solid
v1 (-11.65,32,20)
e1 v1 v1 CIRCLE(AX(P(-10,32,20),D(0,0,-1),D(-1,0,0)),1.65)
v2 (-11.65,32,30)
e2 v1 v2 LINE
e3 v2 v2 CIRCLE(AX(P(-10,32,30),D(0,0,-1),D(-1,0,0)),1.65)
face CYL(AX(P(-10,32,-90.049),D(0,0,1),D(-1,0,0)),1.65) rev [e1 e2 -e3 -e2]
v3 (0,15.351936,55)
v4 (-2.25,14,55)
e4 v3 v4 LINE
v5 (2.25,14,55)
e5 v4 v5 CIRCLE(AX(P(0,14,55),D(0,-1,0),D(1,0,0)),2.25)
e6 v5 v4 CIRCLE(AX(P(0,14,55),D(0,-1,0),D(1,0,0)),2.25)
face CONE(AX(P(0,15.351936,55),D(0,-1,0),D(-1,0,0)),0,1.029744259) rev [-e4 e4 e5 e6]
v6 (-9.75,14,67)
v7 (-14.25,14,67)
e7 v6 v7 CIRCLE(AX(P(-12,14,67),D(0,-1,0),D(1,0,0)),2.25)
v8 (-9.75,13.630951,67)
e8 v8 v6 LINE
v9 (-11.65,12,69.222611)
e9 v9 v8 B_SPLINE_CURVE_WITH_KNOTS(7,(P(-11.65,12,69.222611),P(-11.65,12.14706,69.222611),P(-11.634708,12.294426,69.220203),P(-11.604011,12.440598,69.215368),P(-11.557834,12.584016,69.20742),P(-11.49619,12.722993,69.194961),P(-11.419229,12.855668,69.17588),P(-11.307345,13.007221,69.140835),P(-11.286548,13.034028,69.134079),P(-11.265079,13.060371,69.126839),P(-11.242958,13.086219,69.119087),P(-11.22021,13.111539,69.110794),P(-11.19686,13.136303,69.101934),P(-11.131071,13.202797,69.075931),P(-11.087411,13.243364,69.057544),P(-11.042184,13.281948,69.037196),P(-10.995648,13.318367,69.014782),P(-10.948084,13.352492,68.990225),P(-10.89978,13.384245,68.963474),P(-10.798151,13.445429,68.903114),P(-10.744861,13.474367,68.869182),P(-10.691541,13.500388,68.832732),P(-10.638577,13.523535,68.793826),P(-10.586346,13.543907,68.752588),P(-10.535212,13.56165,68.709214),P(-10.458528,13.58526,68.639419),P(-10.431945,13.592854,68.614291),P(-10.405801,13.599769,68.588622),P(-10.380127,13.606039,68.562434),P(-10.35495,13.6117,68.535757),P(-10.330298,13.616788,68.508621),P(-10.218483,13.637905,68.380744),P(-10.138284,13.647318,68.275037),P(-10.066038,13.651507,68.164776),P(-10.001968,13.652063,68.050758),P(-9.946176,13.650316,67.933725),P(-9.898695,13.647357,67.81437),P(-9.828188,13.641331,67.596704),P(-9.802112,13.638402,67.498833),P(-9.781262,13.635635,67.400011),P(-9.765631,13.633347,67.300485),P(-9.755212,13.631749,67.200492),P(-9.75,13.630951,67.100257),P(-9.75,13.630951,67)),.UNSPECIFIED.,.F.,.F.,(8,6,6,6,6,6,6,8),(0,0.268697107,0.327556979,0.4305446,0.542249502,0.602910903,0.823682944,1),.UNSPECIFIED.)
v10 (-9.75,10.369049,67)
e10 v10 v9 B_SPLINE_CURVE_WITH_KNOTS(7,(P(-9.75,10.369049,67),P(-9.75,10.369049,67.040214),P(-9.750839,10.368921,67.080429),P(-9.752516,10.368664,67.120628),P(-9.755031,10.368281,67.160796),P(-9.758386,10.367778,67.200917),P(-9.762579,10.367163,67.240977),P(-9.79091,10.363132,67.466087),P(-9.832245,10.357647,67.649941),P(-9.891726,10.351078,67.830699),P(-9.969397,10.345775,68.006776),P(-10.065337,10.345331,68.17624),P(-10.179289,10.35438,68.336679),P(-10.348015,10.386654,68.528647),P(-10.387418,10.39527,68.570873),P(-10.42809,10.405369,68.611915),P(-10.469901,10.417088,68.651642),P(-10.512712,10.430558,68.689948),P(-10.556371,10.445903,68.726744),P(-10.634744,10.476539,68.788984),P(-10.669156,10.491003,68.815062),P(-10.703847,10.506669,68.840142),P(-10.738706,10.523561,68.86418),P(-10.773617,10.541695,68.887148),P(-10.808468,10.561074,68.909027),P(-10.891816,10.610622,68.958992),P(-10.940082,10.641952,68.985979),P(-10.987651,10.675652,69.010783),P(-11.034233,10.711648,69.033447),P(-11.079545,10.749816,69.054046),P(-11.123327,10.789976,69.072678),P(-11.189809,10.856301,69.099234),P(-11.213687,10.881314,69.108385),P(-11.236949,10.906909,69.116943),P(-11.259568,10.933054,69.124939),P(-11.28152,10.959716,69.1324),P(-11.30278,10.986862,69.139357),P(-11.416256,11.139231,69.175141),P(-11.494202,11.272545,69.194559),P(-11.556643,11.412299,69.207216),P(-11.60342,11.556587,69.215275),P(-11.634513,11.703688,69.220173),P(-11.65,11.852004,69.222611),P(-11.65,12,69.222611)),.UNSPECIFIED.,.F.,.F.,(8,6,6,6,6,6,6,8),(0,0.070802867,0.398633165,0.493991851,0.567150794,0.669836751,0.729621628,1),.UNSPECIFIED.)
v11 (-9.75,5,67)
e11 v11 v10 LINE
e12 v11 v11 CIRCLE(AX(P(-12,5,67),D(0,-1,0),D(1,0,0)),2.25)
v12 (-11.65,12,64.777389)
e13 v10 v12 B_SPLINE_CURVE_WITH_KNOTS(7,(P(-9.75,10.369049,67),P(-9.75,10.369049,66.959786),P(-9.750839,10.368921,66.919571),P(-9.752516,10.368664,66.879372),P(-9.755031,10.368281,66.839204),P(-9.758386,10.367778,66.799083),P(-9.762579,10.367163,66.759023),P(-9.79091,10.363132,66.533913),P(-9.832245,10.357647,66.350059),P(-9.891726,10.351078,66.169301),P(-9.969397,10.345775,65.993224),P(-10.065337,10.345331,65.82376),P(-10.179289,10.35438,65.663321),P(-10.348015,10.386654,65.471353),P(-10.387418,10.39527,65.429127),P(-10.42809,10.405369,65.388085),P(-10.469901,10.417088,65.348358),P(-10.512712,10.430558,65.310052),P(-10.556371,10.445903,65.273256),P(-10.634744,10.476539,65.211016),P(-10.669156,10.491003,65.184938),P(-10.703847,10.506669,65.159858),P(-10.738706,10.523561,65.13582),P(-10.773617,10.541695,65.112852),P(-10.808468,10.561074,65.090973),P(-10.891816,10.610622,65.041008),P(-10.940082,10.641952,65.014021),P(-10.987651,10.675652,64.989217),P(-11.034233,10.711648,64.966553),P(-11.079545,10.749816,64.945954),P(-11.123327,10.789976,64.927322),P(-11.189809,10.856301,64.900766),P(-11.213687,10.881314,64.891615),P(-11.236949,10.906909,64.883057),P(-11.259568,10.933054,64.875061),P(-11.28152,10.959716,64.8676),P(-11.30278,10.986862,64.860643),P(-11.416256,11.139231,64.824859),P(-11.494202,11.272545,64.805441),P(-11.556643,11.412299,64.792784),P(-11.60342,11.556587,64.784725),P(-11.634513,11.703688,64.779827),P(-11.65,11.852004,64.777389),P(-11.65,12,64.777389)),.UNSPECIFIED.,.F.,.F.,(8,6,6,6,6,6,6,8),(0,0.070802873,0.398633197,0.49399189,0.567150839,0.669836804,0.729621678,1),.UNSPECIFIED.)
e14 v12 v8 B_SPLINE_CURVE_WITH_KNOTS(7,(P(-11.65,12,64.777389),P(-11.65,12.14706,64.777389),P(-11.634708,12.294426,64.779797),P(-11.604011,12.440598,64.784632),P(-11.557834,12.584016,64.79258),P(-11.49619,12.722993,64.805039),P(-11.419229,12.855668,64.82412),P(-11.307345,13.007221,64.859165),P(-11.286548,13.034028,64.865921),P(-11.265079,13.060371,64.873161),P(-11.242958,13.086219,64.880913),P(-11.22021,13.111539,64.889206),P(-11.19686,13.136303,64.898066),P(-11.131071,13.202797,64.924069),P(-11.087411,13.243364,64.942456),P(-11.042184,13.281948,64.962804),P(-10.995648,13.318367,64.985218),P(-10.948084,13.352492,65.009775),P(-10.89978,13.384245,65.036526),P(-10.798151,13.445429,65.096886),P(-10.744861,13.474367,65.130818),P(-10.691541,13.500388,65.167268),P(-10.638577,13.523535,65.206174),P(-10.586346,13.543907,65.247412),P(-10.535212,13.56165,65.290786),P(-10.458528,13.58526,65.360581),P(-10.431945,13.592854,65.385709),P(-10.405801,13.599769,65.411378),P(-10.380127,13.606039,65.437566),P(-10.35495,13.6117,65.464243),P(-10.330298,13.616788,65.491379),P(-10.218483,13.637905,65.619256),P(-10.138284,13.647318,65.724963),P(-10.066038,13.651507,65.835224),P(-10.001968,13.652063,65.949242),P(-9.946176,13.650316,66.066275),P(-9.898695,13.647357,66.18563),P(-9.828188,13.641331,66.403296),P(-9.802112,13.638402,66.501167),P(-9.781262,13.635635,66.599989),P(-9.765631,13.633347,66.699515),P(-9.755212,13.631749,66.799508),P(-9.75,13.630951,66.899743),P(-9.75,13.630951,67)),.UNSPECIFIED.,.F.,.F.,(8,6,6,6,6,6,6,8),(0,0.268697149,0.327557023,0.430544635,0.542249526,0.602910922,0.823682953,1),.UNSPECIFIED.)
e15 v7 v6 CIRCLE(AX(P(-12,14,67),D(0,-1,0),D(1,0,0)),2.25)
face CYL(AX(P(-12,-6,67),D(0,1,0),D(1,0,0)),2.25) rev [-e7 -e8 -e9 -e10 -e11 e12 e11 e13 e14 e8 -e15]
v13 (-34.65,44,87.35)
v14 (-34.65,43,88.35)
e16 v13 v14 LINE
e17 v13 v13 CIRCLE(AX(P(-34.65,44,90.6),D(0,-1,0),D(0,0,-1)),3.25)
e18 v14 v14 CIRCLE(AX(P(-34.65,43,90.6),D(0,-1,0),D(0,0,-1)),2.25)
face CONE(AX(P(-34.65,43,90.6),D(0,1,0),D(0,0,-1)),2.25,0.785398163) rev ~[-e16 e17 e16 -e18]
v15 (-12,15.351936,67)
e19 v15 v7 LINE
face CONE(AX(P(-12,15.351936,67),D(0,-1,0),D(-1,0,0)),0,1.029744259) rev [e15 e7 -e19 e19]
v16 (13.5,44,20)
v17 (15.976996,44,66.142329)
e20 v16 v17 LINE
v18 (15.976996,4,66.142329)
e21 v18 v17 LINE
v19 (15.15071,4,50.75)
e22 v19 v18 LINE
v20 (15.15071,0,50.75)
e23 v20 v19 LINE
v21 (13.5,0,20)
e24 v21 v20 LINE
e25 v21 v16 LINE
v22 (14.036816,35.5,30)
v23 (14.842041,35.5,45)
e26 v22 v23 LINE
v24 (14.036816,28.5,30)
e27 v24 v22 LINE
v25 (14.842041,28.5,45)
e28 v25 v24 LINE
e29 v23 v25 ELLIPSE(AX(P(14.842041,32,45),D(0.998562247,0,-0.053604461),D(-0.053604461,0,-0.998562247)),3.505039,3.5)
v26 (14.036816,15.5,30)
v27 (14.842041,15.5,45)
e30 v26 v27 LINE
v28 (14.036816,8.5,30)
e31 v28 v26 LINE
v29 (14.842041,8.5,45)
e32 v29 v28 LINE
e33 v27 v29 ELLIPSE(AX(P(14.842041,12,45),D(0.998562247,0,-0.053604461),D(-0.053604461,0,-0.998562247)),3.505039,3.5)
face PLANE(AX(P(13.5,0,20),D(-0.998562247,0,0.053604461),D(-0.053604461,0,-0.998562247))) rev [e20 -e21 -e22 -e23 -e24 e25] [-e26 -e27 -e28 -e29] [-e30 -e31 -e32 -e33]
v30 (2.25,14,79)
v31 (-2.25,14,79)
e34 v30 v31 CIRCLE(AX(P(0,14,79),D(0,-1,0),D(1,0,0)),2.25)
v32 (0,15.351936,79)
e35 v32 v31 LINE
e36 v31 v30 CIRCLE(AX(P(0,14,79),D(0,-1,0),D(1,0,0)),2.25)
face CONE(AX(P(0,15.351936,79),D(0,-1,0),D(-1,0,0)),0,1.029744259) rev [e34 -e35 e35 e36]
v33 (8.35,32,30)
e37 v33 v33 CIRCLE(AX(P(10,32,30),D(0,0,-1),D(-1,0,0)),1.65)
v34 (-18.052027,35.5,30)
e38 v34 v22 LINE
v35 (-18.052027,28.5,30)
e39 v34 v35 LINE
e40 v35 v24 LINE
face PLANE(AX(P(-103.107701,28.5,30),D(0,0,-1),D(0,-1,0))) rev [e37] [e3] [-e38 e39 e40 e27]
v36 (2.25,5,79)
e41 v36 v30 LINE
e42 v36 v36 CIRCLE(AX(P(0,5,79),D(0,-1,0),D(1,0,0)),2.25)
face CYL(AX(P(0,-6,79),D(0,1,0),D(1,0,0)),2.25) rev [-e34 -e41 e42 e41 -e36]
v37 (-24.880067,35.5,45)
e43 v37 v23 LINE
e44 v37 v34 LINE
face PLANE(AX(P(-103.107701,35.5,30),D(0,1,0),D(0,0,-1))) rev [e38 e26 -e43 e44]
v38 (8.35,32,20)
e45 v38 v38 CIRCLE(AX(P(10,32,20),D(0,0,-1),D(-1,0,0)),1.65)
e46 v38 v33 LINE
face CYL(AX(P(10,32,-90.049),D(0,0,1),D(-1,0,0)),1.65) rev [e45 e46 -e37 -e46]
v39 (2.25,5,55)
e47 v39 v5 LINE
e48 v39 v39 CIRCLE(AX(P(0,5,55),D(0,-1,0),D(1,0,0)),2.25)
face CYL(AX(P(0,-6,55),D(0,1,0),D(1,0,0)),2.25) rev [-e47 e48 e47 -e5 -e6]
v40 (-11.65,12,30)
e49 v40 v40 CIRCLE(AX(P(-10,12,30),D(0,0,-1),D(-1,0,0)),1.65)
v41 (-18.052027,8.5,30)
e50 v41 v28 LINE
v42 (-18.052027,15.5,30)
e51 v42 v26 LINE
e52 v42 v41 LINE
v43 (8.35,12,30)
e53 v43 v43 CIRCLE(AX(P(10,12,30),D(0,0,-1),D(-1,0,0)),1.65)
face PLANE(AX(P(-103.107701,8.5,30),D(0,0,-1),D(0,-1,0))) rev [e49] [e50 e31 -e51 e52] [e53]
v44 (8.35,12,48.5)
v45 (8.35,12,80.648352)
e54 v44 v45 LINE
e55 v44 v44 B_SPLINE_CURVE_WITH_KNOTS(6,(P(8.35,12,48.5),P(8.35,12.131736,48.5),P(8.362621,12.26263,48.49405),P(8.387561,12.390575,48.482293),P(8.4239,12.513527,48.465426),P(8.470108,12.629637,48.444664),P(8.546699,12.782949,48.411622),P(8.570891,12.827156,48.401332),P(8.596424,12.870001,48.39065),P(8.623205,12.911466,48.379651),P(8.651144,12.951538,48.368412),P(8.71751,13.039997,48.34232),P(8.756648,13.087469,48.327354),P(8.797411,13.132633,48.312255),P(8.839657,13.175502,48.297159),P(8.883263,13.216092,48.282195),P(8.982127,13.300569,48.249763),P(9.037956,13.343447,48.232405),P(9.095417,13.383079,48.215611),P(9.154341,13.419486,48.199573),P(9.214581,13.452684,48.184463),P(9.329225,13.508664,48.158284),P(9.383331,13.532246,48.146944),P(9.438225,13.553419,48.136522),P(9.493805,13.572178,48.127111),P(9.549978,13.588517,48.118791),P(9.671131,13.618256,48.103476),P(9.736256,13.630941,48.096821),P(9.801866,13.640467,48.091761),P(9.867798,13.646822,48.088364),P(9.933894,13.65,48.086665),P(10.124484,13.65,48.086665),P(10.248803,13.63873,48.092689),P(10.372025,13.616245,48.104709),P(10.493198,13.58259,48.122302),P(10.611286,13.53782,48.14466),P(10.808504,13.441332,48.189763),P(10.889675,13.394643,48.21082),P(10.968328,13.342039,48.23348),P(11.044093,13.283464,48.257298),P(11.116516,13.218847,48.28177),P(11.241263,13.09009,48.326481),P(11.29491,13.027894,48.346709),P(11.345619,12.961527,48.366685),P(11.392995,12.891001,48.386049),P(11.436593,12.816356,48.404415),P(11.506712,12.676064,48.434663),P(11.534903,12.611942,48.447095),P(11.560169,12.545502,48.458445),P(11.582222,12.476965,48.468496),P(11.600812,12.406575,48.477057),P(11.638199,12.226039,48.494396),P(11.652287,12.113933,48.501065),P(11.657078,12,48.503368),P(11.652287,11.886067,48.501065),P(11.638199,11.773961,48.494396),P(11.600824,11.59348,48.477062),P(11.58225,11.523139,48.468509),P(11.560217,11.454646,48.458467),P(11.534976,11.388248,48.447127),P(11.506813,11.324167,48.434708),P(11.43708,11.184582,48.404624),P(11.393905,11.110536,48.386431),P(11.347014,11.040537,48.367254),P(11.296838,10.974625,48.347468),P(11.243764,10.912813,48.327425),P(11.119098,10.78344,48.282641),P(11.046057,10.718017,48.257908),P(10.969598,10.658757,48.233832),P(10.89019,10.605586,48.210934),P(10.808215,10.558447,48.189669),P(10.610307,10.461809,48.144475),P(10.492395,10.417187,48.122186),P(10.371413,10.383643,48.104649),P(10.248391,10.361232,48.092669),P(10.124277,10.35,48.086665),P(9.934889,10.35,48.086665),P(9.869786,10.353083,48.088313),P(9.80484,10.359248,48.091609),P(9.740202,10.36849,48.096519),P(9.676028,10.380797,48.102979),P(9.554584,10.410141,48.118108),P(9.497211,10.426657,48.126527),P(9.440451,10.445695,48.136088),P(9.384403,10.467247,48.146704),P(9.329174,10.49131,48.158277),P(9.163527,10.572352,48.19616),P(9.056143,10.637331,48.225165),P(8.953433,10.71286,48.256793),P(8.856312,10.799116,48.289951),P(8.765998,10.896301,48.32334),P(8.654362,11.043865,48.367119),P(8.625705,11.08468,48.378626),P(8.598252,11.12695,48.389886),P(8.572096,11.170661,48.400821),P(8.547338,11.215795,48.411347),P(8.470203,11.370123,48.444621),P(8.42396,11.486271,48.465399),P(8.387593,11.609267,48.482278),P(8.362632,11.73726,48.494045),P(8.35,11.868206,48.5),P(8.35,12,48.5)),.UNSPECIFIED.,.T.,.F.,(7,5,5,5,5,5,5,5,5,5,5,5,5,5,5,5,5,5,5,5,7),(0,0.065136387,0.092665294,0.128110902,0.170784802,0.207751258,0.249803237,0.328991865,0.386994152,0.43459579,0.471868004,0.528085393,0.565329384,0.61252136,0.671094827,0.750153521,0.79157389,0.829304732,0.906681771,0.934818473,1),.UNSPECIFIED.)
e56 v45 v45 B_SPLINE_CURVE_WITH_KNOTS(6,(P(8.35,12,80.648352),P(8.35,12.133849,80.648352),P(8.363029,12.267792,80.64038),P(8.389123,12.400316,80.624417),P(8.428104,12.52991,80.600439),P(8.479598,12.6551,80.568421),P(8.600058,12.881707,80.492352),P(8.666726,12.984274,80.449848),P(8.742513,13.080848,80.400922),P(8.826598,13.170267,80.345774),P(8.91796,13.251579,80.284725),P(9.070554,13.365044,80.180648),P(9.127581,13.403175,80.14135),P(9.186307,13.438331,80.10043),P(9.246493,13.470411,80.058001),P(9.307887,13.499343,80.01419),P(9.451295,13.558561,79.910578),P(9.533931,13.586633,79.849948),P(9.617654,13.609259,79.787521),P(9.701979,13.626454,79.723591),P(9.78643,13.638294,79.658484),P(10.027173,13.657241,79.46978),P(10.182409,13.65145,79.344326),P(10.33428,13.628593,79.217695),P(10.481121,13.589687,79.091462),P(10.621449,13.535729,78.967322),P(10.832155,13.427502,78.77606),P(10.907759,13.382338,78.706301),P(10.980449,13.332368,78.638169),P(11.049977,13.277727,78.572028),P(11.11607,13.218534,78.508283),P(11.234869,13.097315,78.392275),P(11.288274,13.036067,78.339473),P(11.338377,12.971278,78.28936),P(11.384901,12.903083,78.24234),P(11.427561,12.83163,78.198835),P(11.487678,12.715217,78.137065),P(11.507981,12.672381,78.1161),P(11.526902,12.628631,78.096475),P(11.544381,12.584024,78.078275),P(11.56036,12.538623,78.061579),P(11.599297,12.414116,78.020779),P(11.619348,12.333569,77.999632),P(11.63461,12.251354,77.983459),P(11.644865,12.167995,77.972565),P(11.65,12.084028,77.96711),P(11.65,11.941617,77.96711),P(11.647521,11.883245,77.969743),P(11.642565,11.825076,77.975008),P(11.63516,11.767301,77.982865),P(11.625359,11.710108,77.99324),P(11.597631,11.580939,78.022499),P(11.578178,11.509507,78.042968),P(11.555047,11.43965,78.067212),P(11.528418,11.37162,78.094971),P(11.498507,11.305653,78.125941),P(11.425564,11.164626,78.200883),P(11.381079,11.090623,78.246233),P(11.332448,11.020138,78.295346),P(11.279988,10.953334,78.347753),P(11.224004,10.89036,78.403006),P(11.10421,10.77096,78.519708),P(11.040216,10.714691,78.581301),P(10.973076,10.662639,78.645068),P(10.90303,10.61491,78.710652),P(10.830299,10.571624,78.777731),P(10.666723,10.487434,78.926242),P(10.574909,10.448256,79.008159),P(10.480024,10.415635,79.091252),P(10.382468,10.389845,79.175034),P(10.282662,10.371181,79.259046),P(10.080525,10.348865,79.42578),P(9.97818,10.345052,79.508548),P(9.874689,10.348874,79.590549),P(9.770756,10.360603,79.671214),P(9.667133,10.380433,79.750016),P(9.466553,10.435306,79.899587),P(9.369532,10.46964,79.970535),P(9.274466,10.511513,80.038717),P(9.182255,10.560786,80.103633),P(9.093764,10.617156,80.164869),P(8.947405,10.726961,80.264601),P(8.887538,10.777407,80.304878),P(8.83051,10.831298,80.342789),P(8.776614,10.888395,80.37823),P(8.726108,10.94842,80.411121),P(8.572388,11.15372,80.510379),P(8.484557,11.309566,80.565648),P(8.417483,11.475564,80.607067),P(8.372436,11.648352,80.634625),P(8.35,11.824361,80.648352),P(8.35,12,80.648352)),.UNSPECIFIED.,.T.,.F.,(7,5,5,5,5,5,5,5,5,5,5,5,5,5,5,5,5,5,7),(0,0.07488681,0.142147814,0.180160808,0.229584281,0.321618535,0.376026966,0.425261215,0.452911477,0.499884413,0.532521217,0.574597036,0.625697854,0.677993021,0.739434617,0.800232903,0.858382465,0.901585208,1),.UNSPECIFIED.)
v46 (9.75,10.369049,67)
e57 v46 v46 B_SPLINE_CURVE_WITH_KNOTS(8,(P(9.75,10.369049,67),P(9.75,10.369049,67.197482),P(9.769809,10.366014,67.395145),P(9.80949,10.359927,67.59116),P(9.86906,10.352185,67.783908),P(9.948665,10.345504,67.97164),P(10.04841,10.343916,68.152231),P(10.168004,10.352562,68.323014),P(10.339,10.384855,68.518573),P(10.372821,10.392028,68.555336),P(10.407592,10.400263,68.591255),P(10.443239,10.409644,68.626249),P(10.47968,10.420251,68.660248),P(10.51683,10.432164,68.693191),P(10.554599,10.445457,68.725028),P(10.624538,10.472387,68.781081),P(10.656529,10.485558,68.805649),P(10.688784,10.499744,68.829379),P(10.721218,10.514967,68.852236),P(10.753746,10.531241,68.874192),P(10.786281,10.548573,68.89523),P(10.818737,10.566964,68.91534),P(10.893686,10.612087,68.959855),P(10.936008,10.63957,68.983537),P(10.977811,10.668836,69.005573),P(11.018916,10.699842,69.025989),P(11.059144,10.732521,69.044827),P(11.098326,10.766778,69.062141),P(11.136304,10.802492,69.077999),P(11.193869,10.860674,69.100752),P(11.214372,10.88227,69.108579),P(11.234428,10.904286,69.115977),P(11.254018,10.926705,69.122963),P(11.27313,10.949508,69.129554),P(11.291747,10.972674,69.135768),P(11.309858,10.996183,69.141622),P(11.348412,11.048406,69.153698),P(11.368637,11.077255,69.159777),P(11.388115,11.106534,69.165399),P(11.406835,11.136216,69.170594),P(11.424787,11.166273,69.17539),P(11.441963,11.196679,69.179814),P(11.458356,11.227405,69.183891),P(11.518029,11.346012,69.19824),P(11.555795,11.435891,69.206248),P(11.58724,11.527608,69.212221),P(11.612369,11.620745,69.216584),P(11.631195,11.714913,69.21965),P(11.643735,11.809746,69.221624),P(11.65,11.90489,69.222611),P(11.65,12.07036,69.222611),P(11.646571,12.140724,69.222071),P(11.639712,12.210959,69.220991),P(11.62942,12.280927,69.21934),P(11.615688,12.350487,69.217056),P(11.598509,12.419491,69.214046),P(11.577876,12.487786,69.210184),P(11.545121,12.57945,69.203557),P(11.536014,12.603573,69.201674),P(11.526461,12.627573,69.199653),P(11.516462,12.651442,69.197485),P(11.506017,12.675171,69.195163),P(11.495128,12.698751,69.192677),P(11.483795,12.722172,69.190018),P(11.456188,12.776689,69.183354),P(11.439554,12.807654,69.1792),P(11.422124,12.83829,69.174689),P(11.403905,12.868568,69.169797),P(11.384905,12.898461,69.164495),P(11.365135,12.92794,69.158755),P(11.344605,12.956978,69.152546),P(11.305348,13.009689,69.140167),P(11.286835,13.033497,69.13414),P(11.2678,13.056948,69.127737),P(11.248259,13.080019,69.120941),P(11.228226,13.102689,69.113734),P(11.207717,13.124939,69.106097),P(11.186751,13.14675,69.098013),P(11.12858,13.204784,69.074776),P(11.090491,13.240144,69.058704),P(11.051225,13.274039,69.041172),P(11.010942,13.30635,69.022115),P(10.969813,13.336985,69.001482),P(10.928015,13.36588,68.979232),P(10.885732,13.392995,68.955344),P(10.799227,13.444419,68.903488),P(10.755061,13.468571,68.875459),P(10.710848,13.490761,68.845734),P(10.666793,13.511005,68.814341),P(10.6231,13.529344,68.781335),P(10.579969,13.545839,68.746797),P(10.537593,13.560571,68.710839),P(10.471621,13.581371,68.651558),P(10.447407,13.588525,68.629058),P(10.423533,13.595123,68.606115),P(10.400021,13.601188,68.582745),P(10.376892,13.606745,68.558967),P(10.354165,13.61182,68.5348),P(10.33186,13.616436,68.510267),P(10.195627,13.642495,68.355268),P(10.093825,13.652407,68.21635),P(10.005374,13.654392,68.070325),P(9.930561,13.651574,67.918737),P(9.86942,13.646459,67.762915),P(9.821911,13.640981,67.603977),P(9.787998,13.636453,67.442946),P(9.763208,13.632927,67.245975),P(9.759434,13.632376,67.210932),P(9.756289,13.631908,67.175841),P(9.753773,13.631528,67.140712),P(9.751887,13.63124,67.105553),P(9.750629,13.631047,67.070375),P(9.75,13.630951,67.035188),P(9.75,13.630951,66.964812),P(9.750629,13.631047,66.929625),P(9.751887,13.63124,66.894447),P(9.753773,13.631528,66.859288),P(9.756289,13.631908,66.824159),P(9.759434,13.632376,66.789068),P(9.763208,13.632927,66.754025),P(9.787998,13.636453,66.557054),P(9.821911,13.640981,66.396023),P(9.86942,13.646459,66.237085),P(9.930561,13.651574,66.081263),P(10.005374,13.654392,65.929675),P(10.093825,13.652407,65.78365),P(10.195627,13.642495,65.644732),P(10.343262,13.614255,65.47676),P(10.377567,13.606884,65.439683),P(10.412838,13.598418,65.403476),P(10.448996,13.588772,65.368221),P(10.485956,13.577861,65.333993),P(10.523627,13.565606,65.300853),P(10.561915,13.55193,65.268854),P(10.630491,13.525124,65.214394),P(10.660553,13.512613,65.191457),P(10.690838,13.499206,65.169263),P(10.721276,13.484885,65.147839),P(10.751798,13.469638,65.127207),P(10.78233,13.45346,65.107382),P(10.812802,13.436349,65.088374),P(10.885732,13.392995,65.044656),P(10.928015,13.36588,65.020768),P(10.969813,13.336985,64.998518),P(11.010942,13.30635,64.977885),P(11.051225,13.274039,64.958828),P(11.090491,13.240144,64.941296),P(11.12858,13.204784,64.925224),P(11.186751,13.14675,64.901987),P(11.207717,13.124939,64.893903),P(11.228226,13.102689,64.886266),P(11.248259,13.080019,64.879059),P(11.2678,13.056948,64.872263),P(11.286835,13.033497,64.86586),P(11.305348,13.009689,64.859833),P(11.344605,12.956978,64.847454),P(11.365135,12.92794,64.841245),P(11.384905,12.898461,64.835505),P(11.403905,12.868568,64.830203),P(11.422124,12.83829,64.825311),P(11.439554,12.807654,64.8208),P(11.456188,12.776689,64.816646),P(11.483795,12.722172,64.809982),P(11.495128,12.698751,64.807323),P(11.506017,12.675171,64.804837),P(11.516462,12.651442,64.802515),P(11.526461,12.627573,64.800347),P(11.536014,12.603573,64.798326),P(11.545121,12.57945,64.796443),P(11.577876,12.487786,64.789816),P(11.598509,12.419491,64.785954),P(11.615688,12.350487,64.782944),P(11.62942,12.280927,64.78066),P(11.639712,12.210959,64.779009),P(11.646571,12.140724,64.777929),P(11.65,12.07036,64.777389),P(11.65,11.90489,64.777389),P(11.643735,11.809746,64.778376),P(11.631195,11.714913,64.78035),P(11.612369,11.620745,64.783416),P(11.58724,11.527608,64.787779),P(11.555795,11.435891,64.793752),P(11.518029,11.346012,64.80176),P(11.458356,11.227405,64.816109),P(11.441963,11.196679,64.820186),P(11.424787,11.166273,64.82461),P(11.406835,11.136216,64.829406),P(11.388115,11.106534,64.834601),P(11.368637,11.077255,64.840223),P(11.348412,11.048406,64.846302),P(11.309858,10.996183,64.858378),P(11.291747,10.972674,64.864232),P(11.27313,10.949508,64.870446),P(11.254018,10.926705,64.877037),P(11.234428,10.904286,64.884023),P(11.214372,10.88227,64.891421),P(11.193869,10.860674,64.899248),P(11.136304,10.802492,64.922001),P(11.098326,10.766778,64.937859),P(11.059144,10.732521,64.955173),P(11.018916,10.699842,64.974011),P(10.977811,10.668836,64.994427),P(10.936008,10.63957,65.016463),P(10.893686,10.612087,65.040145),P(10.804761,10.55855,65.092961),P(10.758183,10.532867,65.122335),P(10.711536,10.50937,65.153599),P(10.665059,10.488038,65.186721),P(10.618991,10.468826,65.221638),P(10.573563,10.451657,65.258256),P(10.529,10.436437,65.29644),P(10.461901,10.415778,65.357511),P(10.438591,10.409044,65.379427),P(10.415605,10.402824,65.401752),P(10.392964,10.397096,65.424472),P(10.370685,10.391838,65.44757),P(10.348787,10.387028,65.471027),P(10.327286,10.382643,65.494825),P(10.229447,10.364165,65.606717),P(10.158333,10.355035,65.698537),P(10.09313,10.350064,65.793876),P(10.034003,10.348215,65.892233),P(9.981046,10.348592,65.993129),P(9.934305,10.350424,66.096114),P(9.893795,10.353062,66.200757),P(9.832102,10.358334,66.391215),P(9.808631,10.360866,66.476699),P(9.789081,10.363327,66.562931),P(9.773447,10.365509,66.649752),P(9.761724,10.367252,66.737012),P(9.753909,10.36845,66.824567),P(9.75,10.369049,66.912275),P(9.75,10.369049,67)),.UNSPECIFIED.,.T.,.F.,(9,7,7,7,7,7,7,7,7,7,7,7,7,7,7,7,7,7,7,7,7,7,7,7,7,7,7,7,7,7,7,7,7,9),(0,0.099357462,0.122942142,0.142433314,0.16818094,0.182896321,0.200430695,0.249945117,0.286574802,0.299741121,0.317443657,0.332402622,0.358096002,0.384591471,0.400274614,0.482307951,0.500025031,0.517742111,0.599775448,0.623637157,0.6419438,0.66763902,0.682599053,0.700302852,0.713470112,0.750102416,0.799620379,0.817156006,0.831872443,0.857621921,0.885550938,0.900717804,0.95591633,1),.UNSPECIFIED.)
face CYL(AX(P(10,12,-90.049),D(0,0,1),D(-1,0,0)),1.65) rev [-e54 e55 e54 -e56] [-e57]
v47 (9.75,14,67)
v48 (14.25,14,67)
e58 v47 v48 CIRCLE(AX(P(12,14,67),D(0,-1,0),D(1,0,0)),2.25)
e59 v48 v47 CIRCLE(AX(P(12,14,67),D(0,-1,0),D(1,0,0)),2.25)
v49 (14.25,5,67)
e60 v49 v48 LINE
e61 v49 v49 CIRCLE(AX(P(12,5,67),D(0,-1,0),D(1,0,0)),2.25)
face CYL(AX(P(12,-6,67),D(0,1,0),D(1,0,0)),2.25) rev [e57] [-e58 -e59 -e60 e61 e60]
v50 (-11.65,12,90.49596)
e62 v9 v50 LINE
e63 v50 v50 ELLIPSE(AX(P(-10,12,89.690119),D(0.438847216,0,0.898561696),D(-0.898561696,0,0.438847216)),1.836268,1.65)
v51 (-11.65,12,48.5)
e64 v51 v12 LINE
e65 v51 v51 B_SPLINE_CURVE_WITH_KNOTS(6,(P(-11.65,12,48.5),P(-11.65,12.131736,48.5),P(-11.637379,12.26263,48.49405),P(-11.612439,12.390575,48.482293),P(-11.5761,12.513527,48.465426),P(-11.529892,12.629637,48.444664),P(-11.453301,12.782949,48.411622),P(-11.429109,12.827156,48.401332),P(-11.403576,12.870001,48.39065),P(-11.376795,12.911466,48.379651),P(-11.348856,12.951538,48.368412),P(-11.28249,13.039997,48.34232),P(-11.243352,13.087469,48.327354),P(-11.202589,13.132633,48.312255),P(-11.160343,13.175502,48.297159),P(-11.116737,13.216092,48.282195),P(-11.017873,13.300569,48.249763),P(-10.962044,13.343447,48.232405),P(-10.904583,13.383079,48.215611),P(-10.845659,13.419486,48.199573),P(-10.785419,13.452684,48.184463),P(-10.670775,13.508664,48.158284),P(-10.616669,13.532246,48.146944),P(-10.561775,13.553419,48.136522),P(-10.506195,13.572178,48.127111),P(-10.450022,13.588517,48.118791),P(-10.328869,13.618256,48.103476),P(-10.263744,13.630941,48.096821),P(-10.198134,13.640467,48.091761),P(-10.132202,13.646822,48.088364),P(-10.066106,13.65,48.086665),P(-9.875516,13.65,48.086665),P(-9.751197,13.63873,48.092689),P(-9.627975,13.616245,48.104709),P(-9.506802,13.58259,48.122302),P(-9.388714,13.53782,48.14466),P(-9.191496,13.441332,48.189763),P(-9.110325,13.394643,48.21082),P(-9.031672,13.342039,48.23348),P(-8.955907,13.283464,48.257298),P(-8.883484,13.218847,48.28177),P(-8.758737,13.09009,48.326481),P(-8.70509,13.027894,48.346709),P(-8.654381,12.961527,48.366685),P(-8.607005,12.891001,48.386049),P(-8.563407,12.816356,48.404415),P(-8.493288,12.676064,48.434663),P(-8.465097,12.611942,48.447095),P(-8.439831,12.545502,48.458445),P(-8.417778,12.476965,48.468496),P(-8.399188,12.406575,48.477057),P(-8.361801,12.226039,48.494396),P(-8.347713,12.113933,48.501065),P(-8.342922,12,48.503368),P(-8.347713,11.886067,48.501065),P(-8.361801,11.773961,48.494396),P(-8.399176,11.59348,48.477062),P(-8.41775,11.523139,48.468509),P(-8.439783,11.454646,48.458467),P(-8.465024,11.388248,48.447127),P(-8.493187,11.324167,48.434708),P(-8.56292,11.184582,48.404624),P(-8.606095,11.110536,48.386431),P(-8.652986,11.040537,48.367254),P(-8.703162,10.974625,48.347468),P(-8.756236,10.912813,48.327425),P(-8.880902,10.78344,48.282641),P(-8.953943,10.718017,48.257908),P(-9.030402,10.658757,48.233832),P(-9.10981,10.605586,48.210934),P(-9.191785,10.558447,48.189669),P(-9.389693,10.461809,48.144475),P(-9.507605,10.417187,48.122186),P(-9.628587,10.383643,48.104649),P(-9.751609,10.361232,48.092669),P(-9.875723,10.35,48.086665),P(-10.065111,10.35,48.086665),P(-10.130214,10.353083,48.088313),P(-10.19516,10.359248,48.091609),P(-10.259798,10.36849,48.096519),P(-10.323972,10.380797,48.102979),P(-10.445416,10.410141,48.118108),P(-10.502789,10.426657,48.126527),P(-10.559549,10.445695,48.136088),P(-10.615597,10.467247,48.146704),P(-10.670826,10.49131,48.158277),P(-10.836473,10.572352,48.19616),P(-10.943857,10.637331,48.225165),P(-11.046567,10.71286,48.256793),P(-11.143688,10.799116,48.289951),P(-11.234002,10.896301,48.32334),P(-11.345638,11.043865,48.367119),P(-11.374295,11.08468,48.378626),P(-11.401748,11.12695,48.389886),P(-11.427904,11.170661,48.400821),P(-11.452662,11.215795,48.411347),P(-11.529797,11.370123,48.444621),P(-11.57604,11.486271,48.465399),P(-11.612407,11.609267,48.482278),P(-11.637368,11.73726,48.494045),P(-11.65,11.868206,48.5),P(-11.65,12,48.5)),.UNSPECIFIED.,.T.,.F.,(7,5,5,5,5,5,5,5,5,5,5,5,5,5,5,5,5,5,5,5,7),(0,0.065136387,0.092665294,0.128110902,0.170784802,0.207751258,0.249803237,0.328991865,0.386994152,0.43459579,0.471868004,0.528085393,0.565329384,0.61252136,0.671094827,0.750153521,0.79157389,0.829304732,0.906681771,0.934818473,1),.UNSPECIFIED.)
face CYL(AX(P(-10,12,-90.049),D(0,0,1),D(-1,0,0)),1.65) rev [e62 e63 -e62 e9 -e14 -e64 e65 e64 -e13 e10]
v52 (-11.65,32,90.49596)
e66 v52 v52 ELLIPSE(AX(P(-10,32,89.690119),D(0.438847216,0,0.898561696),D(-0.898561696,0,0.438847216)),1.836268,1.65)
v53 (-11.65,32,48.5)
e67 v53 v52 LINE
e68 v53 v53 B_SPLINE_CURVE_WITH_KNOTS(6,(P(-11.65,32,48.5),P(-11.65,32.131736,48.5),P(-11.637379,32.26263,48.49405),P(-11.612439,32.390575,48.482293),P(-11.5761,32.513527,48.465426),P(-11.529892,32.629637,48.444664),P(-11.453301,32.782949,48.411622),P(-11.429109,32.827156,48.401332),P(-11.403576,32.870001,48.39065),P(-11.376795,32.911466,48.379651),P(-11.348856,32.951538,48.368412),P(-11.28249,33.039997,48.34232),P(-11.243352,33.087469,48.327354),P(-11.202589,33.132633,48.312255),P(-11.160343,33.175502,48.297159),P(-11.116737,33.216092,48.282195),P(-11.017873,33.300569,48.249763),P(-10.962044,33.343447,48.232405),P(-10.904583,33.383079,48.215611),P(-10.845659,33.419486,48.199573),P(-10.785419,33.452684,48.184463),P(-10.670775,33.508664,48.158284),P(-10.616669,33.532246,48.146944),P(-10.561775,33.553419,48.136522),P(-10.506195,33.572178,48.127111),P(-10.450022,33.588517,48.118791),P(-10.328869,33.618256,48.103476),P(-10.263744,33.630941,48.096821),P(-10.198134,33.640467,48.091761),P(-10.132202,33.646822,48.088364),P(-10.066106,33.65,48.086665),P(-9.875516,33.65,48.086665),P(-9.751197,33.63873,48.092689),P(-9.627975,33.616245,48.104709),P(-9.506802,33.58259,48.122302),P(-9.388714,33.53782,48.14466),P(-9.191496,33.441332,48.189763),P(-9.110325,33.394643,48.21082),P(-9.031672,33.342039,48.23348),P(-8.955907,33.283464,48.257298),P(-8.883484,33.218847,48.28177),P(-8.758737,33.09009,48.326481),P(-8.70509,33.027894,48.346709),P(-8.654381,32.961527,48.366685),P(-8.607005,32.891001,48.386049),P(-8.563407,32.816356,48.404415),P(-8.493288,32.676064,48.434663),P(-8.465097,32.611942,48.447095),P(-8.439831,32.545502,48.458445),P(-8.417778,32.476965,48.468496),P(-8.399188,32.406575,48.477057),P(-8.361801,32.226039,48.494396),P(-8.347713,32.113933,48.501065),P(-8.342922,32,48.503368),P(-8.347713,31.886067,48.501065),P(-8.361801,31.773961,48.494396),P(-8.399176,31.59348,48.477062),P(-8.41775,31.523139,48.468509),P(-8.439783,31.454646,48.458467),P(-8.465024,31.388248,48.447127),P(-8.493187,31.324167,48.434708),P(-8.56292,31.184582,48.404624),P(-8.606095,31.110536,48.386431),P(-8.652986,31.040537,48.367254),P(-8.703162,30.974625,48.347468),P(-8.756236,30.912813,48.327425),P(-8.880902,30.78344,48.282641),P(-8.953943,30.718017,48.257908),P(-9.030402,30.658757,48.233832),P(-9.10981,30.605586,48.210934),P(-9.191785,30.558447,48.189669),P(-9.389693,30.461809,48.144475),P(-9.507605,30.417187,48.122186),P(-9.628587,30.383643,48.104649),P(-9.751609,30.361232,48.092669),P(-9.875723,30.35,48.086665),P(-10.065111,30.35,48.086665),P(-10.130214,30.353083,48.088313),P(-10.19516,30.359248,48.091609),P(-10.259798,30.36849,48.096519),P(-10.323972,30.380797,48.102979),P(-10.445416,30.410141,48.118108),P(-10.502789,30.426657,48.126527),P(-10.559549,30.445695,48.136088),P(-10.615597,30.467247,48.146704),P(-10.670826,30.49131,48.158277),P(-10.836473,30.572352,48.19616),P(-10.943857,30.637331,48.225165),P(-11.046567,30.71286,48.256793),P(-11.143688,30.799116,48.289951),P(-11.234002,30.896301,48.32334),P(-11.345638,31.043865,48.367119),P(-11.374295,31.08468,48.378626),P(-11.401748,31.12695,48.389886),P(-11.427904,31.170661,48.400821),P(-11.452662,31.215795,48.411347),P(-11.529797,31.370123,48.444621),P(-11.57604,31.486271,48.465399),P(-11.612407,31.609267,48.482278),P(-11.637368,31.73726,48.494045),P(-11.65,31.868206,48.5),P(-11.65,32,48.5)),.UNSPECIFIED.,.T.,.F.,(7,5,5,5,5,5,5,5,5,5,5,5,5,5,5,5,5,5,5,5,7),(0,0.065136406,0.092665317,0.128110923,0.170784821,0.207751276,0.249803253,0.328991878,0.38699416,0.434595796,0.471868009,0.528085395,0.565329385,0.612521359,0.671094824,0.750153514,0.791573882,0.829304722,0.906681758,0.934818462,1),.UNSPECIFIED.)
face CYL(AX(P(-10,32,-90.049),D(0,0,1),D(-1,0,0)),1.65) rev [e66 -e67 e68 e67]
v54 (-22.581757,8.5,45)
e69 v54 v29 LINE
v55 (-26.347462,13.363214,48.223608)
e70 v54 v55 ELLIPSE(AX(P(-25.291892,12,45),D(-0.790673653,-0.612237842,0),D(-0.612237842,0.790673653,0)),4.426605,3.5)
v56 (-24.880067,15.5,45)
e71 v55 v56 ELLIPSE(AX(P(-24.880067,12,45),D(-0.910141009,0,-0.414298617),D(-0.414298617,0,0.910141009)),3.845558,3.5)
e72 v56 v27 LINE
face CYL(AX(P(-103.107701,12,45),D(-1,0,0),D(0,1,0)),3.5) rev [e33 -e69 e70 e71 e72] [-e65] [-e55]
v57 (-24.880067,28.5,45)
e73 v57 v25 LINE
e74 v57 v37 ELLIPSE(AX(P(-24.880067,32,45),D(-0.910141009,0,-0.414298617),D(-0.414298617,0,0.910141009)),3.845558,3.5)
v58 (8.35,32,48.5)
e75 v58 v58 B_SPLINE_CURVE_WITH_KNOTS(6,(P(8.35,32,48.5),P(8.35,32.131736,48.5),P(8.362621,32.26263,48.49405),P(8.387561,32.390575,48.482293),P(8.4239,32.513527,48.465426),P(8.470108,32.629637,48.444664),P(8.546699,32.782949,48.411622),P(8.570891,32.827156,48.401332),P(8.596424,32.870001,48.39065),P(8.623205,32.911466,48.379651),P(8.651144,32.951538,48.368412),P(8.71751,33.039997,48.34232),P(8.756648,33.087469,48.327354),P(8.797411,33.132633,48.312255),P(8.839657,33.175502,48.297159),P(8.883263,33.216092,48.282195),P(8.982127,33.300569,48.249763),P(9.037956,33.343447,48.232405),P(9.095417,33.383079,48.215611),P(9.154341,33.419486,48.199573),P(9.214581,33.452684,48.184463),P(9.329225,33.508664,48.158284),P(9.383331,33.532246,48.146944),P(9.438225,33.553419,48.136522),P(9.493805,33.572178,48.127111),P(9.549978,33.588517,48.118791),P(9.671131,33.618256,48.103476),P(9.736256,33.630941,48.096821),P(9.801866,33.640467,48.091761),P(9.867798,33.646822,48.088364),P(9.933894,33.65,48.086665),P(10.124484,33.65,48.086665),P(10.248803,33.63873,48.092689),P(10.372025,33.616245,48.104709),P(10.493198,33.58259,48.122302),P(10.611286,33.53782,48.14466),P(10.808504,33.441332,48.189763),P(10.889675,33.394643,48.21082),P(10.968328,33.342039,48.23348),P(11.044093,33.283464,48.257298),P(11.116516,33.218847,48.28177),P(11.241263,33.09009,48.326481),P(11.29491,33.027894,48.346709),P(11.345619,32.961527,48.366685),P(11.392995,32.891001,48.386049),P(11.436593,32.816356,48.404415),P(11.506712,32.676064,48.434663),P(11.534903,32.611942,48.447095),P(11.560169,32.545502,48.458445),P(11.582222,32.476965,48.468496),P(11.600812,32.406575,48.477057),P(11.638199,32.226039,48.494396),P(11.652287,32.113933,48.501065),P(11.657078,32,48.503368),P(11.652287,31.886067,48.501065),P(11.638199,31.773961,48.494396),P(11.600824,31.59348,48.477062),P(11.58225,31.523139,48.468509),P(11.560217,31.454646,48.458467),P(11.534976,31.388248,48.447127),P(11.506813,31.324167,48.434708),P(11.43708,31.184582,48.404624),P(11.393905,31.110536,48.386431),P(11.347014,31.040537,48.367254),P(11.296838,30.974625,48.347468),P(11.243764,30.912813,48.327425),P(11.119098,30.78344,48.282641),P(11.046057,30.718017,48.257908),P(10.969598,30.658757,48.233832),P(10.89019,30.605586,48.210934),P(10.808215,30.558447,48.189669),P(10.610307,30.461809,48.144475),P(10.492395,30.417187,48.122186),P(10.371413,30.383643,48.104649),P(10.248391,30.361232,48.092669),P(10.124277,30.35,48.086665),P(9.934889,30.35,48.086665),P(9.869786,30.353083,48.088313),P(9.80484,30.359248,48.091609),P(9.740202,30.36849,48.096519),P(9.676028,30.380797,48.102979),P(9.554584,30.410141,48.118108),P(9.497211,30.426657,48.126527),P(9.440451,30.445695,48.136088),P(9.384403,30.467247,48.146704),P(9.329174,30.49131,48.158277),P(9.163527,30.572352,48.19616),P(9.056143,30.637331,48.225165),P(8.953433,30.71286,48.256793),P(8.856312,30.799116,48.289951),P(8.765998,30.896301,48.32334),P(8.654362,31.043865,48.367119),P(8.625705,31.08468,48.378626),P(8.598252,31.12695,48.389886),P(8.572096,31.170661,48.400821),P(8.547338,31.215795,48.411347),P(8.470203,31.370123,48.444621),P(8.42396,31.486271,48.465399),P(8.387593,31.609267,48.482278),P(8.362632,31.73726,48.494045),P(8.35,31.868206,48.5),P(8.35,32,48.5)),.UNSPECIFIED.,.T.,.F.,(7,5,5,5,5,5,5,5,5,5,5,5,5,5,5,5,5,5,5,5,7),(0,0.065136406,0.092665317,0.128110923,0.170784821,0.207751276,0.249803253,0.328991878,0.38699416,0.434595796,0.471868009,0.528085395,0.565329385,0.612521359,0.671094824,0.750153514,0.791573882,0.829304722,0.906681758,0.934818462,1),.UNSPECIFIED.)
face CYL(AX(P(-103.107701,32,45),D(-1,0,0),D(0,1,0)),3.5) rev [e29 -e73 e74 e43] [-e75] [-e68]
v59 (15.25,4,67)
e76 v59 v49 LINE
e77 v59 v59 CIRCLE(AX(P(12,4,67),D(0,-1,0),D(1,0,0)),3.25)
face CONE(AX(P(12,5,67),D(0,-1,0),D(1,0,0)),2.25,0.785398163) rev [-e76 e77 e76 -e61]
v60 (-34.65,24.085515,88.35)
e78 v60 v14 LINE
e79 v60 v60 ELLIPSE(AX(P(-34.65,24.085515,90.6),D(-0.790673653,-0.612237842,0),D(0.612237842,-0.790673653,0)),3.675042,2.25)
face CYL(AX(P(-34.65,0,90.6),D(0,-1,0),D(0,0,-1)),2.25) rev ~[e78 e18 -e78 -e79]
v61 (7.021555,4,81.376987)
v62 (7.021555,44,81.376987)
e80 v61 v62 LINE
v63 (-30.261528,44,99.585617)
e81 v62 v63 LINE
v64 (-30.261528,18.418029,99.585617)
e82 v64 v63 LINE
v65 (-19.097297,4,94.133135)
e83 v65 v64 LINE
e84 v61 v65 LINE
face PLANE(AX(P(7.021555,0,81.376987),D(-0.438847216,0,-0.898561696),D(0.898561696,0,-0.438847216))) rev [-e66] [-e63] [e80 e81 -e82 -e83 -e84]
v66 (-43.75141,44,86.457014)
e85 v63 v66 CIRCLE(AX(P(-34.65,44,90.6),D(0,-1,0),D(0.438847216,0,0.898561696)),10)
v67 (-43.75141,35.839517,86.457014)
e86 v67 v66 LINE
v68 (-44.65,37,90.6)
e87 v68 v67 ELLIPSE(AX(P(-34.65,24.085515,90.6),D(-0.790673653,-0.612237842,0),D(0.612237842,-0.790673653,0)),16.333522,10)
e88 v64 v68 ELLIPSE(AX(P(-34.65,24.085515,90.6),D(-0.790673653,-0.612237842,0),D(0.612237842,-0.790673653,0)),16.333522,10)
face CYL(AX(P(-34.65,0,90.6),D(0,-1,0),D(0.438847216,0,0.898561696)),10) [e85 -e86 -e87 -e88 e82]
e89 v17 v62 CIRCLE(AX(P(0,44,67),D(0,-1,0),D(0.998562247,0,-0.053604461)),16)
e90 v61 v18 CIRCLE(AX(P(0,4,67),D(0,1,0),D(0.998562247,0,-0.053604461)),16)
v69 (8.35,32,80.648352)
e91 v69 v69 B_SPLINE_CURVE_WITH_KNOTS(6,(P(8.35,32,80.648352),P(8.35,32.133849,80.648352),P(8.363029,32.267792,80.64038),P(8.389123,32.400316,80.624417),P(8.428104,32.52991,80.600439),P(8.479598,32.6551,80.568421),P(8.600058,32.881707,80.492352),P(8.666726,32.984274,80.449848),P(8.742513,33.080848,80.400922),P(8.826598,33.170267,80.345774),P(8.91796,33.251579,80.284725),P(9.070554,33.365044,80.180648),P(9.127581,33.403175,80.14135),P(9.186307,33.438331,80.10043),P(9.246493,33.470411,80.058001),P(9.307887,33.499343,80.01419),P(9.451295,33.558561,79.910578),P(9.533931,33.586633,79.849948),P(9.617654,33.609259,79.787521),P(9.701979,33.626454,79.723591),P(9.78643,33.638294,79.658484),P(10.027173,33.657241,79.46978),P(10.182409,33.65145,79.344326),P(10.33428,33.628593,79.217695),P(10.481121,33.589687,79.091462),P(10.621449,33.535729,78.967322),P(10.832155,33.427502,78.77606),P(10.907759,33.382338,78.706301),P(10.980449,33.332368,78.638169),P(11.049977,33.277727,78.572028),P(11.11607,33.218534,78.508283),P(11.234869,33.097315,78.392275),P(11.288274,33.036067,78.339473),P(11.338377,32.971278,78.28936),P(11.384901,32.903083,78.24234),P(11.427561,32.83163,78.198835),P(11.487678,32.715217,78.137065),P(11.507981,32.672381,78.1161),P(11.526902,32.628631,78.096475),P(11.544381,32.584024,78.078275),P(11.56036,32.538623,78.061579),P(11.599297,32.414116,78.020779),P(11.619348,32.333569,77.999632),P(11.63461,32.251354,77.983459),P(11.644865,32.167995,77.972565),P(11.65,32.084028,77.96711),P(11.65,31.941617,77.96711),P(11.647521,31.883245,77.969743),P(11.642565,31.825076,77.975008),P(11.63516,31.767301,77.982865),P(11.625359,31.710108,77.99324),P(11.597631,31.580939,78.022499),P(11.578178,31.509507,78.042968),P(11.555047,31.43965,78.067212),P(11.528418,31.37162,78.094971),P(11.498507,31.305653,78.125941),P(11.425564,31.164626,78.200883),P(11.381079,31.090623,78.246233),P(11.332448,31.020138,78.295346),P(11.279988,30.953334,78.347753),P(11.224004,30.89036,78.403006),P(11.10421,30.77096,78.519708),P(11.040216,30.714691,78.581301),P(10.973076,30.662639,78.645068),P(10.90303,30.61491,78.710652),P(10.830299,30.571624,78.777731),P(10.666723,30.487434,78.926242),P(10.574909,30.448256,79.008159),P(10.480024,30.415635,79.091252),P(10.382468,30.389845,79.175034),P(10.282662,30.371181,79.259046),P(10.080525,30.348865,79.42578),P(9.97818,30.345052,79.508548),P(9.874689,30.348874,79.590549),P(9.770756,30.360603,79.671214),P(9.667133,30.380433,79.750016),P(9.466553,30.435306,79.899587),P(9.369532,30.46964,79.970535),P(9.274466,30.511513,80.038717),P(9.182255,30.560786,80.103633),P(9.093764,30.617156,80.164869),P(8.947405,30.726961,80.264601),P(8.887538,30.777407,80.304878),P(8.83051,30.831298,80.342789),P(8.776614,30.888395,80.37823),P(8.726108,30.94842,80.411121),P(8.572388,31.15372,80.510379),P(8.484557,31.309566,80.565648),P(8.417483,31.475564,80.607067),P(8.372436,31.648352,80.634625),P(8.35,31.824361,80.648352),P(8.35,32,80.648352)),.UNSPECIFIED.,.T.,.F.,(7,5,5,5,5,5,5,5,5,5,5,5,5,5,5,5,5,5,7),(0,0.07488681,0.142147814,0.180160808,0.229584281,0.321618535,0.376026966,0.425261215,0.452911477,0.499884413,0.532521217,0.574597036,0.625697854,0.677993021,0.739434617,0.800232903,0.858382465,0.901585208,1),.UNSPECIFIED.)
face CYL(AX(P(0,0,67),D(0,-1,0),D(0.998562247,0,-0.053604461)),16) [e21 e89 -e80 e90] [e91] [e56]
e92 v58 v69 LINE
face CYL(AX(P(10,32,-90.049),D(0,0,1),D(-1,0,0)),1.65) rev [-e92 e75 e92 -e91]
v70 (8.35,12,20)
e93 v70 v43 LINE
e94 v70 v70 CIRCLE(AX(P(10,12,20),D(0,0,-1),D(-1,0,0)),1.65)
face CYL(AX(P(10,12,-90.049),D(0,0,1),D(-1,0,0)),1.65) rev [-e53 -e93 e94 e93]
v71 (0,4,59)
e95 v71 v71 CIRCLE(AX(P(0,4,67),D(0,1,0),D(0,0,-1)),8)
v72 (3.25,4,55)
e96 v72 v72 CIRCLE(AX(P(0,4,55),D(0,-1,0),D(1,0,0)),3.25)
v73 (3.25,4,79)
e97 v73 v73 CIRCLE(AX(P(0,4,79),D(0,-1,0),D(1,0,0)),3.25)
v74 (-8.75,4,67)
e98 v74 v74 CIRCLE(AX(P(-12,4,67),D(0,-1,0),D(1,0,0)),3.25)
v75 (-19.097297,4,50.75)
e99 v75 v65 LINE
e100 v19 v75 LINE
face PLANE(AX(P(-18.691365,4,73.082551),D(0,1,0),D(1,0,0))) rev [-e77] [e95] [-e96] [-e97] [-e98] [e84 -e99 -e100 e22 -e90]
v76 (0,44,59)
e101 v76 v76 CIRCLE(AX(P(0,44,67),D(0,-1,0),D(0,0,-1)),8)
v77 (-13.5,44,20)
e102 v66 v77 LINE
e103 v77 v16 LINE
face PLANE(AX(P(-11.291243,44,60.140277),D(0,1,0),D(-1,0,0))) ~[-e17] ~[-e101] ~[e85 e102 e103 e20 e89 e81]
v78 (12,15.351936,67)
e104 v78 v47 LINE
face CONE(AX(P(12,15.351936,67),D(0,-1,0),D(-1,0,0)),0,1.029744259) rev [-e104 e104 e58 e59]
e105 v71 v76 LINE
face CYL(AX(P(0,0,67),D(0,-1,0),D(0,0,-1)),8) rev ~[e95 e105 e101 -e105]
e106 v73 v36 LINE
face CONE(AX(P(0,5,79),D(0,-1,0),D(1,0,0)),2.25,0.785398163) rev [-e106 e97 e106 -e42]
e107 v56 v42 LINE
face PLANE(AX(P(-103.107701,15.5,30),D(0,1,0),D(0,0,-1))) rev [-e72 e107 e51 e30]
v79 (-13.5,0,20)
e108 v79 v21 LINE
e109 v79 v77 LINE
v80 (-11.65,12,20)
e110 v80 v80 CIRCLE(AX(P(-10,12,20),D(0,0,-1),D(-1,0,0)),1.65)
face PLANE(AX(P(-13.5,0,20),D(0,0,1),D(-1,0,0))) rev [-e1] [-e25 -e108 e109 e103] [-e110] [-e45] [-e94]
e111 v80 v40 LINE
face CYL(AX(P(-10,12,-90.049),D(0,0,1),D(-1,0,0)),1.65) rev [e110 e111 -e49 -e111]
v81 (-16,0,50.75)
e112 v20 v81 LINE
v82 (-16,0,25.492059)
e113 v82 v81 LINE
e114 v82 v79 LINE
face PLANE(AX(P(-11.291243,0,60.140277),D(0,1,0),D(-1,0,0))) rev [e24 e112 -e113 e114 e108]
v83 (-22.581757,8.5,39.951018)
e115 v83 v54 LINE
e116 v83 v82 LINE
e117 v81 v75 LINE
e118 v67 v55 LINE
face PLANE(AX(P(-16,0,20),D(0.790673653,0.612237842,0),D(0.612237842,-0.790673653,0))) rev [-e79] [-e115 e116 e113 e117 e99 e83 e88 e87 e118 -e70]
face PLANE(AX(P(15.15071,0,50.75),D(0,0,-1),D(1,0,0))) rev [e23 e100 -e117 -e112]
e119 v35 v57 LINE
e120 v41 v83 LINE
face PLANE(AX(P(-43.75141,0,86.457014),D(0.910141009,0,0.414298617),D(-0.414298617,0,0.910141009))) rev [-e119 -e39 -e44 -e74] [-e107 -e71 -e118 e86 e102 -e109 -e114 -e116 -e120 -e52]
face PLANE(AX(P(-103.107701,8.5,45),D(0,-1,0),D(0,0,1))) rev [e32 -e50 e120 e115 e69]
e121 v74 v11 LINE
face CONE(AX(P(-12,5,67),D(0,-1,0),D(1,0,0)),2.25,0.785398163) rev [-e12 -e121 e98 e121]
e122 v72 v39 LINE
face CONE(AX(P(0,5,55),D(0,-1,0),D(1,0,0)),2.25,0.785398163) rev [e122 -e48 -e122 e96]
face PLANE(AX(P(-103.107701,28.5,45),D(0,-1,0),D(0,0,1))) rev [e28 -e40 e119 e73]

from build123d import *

# Parameters (mm, degrees)
SKETCH1_R                      = 8
SKETCH1_R_2                    = 2.25
BOSS_EXTRUDE1_DEPTH            = 44
CUT_EXTRUDE4_DEPTH             = 4
CUT_EXTRUDE5_DEPTH             = 103.107700493
F_4_5_4_5_DIAMETER_HOLE1_D     = 4.5
F_4_5_4_5_DIAMETER_HOLE1_DEPTH = 10
F_4_5_4_5_DIAMETER_HOLE1_TIP   = 1.351936393
CHAMFER1_SIZE                  = 1
F_3_3_3_3_DIAMETER_HOLE1_D     = 3.3
CUT_EXTRUDE6_DEPTH             = 103.107700536
CUT_EXTRUDE6_DEPTH_BACK        = 103.107700536
CUT_EXTRUDE7_DEPTH             = 119.532622092


with BuildPart() as part:
    # Sketch1 → Boss-Extrude1 (new body)
    with BuildSketch(Plane(origin=(0, 0, 0), x_dir=(1, 0, 0), z_dir=(0, 1, 0))):
        with BuildLine():
            Line((-13.5, 0), (13.5, 0))
            Line((13.5, 0), (15.976995957, 46.142328626))
            ThreePointArc((15.976995957, 46.142328626), (13.793369664, 55.108202842), (7.021555451, 61.376987134))
            Line((7.021555451, 61.376987134), (-30.261527843, 79.585616959))
            ThreePointArc((-30.261527843, 79.585616959), (-41.624453455, 77.76637977), (-43.75141009, 66.457013833))
            Line((-43.75141009, 66.457013833), (-13.5, 0))
        make_face()
        with Locations(Location((0, 47, 0), (0, 0, 270))):
            Circle(SKETCH1_R, mode=Mode.SUBTRACT)
        with Locations(Location((-34.65, 70.6, 0), (0, 0, 270))):
            Circle(SKETCH1_R_2, mode=Mode.SUBTRACT)
    extrude(amount=BOSS_EXTRUDE1_DEPTH)

    # Sketch2 → Cut-Extrude4 (cut)
    with BuildSketch(Plane.XZ):
        Polygon((0, -30.75), (15.150710485, -30.75), (16.545133066, -56.725781169), (-44.65, -86.612781563), (-44.65, -30.75), align=None)
    extrude(amount=-CUT_EXTRUDE4_DEPTH, mode=Mode.SUBTRACT)

    # Sketch4 → Cut-Extrude5 (cut, through all)
    with BuildSketch(Plane.XY):
        Polygon((-16, 0), (-44.65, 37), (-44.65, 0), align=None)
    extrude(amount=-CUT_EXTRUDE5_DEPTH, mode=Mode.SUBTRACT)

    # Ø4.5 (4.5) Diameter Hole1
    with Locations(Plane(origin=(0, 4, 0), x_dir=(-1, 0, 0), z_dir=(0, -1, 0))):
        with Locations((0, 35), (0, 59), (12, 47), (-12, 47)):
            Hole(F_4_5_4_5_DIAMETER_HOLE1_D / 2, depth=F_4_5_4_5_DIAMETER_HOLE1_DEPTH)
            with Locations((0, 0, -(F_4_5_4_5_DIAMETER_HOLE1_DEPTH + F_4_5_4_5_DIAMETER_HOLE1_TIP / 2))):  # 118° drill point
                Cone(0, F_4_5_4_5_DIAMETER_HOLE1_D / 2, F_4_5_4_5_DIAMETER_HOLE1_TIP, mode=Mode.SUBTRACT)

    # Chamfer1
    chamfer1_edges = [part.edges().sort_by_distance(p)[0] for p in [
        (-14.25, 4, -47),
        (-2.25, 4, -59),
        (-2.25, 4, -35),
        (-34.65, 44, -72.85),
        (9.75, 4, -47),
    ]]
    chamfer(chamfer1_edges, length=CHAMFER1_SIZE)

    # Ø3.3 (3.3) Diameter Hole1 (through all)
    with Locations(Plane.XY):
        with Locations((-10, 32), (10, 32), (10, 12), (-10, 12)):
            Hole(F_3_3_3_3_DIAMETER_HOLE1_D / 2)

    # Sketch13 → Cut-Extrude6 (cut, two sides: drawn at the far end of the back side and taken through both)
    with BuildSketch(Plane(origin=(0, 0, 0), x_dir=(0, 0, -1), z_dir=(1, 0, 0)).offset(-CUT_EXTRUDE6_DEPTH_BACK)):
        with BuildLine():
            Line((10, 35.5), (25, 35.5))
            ThreePointArc((25, 35.5), (28.5, 32), (25, 28.5))
            Line((25, 28.5), (10, 28.5))
            Line((10, 28.5), (10, 35.5))
        make_face()
        with BuildLine():
            Line((10, 15.5), (25, 15.5))
            ThreePointArc((25, 15.5), (28.5, 12), (25, 8.5))
            Line((25, 8.5), (10, 8.5))
            Line((10, 8.5), (10, 15.5))
        make_face()
    extrude(amount=CUT_EXTRUDE6_DEPTH + CUT_EXTRUDE6_DEPTH_BACK, mode=Mode.SUBTRACT)


with BuildPart() as body_2:
    # Mirror2: mirrored copy
    add(part.part.mirror(Plane.XY.offset(10)))


with BuildPart() as part_1:
    add(part.part)

    # Sketch14 → Cut-Extrude7 (cut, through all)
    with BuildSketch(Plane(origin=(0, 44, 0), x_dir=(1, 0, 0), z_dir=(0, 1, 0))):
        with BuildLine():
            Line((-13.5, 0), (-43.75141009, 66.457013833))
            ThreePointArc((-43.75141009, 66.457013833), (-41.624453455, 77.76637977), (-30.261527843, 79.585616959))
            Line((-30.261527843, 79.585616959), (7.021555451, 61.376987134))
            ThreePointArc((7.021555451, 61.376987134), (13.793369664, 55.108202842), (15.976995957, 46.142328626))
            Line((15.976995957, 46.142328626), (13.5, 0))
            Line((13.5, 0), (-13.5, 0))
        make_face()
    extrude(amount=-CUT_EXTRUDE7_DEPTH, mode=Mode.SUBTRACT)


solid = body_2.part
